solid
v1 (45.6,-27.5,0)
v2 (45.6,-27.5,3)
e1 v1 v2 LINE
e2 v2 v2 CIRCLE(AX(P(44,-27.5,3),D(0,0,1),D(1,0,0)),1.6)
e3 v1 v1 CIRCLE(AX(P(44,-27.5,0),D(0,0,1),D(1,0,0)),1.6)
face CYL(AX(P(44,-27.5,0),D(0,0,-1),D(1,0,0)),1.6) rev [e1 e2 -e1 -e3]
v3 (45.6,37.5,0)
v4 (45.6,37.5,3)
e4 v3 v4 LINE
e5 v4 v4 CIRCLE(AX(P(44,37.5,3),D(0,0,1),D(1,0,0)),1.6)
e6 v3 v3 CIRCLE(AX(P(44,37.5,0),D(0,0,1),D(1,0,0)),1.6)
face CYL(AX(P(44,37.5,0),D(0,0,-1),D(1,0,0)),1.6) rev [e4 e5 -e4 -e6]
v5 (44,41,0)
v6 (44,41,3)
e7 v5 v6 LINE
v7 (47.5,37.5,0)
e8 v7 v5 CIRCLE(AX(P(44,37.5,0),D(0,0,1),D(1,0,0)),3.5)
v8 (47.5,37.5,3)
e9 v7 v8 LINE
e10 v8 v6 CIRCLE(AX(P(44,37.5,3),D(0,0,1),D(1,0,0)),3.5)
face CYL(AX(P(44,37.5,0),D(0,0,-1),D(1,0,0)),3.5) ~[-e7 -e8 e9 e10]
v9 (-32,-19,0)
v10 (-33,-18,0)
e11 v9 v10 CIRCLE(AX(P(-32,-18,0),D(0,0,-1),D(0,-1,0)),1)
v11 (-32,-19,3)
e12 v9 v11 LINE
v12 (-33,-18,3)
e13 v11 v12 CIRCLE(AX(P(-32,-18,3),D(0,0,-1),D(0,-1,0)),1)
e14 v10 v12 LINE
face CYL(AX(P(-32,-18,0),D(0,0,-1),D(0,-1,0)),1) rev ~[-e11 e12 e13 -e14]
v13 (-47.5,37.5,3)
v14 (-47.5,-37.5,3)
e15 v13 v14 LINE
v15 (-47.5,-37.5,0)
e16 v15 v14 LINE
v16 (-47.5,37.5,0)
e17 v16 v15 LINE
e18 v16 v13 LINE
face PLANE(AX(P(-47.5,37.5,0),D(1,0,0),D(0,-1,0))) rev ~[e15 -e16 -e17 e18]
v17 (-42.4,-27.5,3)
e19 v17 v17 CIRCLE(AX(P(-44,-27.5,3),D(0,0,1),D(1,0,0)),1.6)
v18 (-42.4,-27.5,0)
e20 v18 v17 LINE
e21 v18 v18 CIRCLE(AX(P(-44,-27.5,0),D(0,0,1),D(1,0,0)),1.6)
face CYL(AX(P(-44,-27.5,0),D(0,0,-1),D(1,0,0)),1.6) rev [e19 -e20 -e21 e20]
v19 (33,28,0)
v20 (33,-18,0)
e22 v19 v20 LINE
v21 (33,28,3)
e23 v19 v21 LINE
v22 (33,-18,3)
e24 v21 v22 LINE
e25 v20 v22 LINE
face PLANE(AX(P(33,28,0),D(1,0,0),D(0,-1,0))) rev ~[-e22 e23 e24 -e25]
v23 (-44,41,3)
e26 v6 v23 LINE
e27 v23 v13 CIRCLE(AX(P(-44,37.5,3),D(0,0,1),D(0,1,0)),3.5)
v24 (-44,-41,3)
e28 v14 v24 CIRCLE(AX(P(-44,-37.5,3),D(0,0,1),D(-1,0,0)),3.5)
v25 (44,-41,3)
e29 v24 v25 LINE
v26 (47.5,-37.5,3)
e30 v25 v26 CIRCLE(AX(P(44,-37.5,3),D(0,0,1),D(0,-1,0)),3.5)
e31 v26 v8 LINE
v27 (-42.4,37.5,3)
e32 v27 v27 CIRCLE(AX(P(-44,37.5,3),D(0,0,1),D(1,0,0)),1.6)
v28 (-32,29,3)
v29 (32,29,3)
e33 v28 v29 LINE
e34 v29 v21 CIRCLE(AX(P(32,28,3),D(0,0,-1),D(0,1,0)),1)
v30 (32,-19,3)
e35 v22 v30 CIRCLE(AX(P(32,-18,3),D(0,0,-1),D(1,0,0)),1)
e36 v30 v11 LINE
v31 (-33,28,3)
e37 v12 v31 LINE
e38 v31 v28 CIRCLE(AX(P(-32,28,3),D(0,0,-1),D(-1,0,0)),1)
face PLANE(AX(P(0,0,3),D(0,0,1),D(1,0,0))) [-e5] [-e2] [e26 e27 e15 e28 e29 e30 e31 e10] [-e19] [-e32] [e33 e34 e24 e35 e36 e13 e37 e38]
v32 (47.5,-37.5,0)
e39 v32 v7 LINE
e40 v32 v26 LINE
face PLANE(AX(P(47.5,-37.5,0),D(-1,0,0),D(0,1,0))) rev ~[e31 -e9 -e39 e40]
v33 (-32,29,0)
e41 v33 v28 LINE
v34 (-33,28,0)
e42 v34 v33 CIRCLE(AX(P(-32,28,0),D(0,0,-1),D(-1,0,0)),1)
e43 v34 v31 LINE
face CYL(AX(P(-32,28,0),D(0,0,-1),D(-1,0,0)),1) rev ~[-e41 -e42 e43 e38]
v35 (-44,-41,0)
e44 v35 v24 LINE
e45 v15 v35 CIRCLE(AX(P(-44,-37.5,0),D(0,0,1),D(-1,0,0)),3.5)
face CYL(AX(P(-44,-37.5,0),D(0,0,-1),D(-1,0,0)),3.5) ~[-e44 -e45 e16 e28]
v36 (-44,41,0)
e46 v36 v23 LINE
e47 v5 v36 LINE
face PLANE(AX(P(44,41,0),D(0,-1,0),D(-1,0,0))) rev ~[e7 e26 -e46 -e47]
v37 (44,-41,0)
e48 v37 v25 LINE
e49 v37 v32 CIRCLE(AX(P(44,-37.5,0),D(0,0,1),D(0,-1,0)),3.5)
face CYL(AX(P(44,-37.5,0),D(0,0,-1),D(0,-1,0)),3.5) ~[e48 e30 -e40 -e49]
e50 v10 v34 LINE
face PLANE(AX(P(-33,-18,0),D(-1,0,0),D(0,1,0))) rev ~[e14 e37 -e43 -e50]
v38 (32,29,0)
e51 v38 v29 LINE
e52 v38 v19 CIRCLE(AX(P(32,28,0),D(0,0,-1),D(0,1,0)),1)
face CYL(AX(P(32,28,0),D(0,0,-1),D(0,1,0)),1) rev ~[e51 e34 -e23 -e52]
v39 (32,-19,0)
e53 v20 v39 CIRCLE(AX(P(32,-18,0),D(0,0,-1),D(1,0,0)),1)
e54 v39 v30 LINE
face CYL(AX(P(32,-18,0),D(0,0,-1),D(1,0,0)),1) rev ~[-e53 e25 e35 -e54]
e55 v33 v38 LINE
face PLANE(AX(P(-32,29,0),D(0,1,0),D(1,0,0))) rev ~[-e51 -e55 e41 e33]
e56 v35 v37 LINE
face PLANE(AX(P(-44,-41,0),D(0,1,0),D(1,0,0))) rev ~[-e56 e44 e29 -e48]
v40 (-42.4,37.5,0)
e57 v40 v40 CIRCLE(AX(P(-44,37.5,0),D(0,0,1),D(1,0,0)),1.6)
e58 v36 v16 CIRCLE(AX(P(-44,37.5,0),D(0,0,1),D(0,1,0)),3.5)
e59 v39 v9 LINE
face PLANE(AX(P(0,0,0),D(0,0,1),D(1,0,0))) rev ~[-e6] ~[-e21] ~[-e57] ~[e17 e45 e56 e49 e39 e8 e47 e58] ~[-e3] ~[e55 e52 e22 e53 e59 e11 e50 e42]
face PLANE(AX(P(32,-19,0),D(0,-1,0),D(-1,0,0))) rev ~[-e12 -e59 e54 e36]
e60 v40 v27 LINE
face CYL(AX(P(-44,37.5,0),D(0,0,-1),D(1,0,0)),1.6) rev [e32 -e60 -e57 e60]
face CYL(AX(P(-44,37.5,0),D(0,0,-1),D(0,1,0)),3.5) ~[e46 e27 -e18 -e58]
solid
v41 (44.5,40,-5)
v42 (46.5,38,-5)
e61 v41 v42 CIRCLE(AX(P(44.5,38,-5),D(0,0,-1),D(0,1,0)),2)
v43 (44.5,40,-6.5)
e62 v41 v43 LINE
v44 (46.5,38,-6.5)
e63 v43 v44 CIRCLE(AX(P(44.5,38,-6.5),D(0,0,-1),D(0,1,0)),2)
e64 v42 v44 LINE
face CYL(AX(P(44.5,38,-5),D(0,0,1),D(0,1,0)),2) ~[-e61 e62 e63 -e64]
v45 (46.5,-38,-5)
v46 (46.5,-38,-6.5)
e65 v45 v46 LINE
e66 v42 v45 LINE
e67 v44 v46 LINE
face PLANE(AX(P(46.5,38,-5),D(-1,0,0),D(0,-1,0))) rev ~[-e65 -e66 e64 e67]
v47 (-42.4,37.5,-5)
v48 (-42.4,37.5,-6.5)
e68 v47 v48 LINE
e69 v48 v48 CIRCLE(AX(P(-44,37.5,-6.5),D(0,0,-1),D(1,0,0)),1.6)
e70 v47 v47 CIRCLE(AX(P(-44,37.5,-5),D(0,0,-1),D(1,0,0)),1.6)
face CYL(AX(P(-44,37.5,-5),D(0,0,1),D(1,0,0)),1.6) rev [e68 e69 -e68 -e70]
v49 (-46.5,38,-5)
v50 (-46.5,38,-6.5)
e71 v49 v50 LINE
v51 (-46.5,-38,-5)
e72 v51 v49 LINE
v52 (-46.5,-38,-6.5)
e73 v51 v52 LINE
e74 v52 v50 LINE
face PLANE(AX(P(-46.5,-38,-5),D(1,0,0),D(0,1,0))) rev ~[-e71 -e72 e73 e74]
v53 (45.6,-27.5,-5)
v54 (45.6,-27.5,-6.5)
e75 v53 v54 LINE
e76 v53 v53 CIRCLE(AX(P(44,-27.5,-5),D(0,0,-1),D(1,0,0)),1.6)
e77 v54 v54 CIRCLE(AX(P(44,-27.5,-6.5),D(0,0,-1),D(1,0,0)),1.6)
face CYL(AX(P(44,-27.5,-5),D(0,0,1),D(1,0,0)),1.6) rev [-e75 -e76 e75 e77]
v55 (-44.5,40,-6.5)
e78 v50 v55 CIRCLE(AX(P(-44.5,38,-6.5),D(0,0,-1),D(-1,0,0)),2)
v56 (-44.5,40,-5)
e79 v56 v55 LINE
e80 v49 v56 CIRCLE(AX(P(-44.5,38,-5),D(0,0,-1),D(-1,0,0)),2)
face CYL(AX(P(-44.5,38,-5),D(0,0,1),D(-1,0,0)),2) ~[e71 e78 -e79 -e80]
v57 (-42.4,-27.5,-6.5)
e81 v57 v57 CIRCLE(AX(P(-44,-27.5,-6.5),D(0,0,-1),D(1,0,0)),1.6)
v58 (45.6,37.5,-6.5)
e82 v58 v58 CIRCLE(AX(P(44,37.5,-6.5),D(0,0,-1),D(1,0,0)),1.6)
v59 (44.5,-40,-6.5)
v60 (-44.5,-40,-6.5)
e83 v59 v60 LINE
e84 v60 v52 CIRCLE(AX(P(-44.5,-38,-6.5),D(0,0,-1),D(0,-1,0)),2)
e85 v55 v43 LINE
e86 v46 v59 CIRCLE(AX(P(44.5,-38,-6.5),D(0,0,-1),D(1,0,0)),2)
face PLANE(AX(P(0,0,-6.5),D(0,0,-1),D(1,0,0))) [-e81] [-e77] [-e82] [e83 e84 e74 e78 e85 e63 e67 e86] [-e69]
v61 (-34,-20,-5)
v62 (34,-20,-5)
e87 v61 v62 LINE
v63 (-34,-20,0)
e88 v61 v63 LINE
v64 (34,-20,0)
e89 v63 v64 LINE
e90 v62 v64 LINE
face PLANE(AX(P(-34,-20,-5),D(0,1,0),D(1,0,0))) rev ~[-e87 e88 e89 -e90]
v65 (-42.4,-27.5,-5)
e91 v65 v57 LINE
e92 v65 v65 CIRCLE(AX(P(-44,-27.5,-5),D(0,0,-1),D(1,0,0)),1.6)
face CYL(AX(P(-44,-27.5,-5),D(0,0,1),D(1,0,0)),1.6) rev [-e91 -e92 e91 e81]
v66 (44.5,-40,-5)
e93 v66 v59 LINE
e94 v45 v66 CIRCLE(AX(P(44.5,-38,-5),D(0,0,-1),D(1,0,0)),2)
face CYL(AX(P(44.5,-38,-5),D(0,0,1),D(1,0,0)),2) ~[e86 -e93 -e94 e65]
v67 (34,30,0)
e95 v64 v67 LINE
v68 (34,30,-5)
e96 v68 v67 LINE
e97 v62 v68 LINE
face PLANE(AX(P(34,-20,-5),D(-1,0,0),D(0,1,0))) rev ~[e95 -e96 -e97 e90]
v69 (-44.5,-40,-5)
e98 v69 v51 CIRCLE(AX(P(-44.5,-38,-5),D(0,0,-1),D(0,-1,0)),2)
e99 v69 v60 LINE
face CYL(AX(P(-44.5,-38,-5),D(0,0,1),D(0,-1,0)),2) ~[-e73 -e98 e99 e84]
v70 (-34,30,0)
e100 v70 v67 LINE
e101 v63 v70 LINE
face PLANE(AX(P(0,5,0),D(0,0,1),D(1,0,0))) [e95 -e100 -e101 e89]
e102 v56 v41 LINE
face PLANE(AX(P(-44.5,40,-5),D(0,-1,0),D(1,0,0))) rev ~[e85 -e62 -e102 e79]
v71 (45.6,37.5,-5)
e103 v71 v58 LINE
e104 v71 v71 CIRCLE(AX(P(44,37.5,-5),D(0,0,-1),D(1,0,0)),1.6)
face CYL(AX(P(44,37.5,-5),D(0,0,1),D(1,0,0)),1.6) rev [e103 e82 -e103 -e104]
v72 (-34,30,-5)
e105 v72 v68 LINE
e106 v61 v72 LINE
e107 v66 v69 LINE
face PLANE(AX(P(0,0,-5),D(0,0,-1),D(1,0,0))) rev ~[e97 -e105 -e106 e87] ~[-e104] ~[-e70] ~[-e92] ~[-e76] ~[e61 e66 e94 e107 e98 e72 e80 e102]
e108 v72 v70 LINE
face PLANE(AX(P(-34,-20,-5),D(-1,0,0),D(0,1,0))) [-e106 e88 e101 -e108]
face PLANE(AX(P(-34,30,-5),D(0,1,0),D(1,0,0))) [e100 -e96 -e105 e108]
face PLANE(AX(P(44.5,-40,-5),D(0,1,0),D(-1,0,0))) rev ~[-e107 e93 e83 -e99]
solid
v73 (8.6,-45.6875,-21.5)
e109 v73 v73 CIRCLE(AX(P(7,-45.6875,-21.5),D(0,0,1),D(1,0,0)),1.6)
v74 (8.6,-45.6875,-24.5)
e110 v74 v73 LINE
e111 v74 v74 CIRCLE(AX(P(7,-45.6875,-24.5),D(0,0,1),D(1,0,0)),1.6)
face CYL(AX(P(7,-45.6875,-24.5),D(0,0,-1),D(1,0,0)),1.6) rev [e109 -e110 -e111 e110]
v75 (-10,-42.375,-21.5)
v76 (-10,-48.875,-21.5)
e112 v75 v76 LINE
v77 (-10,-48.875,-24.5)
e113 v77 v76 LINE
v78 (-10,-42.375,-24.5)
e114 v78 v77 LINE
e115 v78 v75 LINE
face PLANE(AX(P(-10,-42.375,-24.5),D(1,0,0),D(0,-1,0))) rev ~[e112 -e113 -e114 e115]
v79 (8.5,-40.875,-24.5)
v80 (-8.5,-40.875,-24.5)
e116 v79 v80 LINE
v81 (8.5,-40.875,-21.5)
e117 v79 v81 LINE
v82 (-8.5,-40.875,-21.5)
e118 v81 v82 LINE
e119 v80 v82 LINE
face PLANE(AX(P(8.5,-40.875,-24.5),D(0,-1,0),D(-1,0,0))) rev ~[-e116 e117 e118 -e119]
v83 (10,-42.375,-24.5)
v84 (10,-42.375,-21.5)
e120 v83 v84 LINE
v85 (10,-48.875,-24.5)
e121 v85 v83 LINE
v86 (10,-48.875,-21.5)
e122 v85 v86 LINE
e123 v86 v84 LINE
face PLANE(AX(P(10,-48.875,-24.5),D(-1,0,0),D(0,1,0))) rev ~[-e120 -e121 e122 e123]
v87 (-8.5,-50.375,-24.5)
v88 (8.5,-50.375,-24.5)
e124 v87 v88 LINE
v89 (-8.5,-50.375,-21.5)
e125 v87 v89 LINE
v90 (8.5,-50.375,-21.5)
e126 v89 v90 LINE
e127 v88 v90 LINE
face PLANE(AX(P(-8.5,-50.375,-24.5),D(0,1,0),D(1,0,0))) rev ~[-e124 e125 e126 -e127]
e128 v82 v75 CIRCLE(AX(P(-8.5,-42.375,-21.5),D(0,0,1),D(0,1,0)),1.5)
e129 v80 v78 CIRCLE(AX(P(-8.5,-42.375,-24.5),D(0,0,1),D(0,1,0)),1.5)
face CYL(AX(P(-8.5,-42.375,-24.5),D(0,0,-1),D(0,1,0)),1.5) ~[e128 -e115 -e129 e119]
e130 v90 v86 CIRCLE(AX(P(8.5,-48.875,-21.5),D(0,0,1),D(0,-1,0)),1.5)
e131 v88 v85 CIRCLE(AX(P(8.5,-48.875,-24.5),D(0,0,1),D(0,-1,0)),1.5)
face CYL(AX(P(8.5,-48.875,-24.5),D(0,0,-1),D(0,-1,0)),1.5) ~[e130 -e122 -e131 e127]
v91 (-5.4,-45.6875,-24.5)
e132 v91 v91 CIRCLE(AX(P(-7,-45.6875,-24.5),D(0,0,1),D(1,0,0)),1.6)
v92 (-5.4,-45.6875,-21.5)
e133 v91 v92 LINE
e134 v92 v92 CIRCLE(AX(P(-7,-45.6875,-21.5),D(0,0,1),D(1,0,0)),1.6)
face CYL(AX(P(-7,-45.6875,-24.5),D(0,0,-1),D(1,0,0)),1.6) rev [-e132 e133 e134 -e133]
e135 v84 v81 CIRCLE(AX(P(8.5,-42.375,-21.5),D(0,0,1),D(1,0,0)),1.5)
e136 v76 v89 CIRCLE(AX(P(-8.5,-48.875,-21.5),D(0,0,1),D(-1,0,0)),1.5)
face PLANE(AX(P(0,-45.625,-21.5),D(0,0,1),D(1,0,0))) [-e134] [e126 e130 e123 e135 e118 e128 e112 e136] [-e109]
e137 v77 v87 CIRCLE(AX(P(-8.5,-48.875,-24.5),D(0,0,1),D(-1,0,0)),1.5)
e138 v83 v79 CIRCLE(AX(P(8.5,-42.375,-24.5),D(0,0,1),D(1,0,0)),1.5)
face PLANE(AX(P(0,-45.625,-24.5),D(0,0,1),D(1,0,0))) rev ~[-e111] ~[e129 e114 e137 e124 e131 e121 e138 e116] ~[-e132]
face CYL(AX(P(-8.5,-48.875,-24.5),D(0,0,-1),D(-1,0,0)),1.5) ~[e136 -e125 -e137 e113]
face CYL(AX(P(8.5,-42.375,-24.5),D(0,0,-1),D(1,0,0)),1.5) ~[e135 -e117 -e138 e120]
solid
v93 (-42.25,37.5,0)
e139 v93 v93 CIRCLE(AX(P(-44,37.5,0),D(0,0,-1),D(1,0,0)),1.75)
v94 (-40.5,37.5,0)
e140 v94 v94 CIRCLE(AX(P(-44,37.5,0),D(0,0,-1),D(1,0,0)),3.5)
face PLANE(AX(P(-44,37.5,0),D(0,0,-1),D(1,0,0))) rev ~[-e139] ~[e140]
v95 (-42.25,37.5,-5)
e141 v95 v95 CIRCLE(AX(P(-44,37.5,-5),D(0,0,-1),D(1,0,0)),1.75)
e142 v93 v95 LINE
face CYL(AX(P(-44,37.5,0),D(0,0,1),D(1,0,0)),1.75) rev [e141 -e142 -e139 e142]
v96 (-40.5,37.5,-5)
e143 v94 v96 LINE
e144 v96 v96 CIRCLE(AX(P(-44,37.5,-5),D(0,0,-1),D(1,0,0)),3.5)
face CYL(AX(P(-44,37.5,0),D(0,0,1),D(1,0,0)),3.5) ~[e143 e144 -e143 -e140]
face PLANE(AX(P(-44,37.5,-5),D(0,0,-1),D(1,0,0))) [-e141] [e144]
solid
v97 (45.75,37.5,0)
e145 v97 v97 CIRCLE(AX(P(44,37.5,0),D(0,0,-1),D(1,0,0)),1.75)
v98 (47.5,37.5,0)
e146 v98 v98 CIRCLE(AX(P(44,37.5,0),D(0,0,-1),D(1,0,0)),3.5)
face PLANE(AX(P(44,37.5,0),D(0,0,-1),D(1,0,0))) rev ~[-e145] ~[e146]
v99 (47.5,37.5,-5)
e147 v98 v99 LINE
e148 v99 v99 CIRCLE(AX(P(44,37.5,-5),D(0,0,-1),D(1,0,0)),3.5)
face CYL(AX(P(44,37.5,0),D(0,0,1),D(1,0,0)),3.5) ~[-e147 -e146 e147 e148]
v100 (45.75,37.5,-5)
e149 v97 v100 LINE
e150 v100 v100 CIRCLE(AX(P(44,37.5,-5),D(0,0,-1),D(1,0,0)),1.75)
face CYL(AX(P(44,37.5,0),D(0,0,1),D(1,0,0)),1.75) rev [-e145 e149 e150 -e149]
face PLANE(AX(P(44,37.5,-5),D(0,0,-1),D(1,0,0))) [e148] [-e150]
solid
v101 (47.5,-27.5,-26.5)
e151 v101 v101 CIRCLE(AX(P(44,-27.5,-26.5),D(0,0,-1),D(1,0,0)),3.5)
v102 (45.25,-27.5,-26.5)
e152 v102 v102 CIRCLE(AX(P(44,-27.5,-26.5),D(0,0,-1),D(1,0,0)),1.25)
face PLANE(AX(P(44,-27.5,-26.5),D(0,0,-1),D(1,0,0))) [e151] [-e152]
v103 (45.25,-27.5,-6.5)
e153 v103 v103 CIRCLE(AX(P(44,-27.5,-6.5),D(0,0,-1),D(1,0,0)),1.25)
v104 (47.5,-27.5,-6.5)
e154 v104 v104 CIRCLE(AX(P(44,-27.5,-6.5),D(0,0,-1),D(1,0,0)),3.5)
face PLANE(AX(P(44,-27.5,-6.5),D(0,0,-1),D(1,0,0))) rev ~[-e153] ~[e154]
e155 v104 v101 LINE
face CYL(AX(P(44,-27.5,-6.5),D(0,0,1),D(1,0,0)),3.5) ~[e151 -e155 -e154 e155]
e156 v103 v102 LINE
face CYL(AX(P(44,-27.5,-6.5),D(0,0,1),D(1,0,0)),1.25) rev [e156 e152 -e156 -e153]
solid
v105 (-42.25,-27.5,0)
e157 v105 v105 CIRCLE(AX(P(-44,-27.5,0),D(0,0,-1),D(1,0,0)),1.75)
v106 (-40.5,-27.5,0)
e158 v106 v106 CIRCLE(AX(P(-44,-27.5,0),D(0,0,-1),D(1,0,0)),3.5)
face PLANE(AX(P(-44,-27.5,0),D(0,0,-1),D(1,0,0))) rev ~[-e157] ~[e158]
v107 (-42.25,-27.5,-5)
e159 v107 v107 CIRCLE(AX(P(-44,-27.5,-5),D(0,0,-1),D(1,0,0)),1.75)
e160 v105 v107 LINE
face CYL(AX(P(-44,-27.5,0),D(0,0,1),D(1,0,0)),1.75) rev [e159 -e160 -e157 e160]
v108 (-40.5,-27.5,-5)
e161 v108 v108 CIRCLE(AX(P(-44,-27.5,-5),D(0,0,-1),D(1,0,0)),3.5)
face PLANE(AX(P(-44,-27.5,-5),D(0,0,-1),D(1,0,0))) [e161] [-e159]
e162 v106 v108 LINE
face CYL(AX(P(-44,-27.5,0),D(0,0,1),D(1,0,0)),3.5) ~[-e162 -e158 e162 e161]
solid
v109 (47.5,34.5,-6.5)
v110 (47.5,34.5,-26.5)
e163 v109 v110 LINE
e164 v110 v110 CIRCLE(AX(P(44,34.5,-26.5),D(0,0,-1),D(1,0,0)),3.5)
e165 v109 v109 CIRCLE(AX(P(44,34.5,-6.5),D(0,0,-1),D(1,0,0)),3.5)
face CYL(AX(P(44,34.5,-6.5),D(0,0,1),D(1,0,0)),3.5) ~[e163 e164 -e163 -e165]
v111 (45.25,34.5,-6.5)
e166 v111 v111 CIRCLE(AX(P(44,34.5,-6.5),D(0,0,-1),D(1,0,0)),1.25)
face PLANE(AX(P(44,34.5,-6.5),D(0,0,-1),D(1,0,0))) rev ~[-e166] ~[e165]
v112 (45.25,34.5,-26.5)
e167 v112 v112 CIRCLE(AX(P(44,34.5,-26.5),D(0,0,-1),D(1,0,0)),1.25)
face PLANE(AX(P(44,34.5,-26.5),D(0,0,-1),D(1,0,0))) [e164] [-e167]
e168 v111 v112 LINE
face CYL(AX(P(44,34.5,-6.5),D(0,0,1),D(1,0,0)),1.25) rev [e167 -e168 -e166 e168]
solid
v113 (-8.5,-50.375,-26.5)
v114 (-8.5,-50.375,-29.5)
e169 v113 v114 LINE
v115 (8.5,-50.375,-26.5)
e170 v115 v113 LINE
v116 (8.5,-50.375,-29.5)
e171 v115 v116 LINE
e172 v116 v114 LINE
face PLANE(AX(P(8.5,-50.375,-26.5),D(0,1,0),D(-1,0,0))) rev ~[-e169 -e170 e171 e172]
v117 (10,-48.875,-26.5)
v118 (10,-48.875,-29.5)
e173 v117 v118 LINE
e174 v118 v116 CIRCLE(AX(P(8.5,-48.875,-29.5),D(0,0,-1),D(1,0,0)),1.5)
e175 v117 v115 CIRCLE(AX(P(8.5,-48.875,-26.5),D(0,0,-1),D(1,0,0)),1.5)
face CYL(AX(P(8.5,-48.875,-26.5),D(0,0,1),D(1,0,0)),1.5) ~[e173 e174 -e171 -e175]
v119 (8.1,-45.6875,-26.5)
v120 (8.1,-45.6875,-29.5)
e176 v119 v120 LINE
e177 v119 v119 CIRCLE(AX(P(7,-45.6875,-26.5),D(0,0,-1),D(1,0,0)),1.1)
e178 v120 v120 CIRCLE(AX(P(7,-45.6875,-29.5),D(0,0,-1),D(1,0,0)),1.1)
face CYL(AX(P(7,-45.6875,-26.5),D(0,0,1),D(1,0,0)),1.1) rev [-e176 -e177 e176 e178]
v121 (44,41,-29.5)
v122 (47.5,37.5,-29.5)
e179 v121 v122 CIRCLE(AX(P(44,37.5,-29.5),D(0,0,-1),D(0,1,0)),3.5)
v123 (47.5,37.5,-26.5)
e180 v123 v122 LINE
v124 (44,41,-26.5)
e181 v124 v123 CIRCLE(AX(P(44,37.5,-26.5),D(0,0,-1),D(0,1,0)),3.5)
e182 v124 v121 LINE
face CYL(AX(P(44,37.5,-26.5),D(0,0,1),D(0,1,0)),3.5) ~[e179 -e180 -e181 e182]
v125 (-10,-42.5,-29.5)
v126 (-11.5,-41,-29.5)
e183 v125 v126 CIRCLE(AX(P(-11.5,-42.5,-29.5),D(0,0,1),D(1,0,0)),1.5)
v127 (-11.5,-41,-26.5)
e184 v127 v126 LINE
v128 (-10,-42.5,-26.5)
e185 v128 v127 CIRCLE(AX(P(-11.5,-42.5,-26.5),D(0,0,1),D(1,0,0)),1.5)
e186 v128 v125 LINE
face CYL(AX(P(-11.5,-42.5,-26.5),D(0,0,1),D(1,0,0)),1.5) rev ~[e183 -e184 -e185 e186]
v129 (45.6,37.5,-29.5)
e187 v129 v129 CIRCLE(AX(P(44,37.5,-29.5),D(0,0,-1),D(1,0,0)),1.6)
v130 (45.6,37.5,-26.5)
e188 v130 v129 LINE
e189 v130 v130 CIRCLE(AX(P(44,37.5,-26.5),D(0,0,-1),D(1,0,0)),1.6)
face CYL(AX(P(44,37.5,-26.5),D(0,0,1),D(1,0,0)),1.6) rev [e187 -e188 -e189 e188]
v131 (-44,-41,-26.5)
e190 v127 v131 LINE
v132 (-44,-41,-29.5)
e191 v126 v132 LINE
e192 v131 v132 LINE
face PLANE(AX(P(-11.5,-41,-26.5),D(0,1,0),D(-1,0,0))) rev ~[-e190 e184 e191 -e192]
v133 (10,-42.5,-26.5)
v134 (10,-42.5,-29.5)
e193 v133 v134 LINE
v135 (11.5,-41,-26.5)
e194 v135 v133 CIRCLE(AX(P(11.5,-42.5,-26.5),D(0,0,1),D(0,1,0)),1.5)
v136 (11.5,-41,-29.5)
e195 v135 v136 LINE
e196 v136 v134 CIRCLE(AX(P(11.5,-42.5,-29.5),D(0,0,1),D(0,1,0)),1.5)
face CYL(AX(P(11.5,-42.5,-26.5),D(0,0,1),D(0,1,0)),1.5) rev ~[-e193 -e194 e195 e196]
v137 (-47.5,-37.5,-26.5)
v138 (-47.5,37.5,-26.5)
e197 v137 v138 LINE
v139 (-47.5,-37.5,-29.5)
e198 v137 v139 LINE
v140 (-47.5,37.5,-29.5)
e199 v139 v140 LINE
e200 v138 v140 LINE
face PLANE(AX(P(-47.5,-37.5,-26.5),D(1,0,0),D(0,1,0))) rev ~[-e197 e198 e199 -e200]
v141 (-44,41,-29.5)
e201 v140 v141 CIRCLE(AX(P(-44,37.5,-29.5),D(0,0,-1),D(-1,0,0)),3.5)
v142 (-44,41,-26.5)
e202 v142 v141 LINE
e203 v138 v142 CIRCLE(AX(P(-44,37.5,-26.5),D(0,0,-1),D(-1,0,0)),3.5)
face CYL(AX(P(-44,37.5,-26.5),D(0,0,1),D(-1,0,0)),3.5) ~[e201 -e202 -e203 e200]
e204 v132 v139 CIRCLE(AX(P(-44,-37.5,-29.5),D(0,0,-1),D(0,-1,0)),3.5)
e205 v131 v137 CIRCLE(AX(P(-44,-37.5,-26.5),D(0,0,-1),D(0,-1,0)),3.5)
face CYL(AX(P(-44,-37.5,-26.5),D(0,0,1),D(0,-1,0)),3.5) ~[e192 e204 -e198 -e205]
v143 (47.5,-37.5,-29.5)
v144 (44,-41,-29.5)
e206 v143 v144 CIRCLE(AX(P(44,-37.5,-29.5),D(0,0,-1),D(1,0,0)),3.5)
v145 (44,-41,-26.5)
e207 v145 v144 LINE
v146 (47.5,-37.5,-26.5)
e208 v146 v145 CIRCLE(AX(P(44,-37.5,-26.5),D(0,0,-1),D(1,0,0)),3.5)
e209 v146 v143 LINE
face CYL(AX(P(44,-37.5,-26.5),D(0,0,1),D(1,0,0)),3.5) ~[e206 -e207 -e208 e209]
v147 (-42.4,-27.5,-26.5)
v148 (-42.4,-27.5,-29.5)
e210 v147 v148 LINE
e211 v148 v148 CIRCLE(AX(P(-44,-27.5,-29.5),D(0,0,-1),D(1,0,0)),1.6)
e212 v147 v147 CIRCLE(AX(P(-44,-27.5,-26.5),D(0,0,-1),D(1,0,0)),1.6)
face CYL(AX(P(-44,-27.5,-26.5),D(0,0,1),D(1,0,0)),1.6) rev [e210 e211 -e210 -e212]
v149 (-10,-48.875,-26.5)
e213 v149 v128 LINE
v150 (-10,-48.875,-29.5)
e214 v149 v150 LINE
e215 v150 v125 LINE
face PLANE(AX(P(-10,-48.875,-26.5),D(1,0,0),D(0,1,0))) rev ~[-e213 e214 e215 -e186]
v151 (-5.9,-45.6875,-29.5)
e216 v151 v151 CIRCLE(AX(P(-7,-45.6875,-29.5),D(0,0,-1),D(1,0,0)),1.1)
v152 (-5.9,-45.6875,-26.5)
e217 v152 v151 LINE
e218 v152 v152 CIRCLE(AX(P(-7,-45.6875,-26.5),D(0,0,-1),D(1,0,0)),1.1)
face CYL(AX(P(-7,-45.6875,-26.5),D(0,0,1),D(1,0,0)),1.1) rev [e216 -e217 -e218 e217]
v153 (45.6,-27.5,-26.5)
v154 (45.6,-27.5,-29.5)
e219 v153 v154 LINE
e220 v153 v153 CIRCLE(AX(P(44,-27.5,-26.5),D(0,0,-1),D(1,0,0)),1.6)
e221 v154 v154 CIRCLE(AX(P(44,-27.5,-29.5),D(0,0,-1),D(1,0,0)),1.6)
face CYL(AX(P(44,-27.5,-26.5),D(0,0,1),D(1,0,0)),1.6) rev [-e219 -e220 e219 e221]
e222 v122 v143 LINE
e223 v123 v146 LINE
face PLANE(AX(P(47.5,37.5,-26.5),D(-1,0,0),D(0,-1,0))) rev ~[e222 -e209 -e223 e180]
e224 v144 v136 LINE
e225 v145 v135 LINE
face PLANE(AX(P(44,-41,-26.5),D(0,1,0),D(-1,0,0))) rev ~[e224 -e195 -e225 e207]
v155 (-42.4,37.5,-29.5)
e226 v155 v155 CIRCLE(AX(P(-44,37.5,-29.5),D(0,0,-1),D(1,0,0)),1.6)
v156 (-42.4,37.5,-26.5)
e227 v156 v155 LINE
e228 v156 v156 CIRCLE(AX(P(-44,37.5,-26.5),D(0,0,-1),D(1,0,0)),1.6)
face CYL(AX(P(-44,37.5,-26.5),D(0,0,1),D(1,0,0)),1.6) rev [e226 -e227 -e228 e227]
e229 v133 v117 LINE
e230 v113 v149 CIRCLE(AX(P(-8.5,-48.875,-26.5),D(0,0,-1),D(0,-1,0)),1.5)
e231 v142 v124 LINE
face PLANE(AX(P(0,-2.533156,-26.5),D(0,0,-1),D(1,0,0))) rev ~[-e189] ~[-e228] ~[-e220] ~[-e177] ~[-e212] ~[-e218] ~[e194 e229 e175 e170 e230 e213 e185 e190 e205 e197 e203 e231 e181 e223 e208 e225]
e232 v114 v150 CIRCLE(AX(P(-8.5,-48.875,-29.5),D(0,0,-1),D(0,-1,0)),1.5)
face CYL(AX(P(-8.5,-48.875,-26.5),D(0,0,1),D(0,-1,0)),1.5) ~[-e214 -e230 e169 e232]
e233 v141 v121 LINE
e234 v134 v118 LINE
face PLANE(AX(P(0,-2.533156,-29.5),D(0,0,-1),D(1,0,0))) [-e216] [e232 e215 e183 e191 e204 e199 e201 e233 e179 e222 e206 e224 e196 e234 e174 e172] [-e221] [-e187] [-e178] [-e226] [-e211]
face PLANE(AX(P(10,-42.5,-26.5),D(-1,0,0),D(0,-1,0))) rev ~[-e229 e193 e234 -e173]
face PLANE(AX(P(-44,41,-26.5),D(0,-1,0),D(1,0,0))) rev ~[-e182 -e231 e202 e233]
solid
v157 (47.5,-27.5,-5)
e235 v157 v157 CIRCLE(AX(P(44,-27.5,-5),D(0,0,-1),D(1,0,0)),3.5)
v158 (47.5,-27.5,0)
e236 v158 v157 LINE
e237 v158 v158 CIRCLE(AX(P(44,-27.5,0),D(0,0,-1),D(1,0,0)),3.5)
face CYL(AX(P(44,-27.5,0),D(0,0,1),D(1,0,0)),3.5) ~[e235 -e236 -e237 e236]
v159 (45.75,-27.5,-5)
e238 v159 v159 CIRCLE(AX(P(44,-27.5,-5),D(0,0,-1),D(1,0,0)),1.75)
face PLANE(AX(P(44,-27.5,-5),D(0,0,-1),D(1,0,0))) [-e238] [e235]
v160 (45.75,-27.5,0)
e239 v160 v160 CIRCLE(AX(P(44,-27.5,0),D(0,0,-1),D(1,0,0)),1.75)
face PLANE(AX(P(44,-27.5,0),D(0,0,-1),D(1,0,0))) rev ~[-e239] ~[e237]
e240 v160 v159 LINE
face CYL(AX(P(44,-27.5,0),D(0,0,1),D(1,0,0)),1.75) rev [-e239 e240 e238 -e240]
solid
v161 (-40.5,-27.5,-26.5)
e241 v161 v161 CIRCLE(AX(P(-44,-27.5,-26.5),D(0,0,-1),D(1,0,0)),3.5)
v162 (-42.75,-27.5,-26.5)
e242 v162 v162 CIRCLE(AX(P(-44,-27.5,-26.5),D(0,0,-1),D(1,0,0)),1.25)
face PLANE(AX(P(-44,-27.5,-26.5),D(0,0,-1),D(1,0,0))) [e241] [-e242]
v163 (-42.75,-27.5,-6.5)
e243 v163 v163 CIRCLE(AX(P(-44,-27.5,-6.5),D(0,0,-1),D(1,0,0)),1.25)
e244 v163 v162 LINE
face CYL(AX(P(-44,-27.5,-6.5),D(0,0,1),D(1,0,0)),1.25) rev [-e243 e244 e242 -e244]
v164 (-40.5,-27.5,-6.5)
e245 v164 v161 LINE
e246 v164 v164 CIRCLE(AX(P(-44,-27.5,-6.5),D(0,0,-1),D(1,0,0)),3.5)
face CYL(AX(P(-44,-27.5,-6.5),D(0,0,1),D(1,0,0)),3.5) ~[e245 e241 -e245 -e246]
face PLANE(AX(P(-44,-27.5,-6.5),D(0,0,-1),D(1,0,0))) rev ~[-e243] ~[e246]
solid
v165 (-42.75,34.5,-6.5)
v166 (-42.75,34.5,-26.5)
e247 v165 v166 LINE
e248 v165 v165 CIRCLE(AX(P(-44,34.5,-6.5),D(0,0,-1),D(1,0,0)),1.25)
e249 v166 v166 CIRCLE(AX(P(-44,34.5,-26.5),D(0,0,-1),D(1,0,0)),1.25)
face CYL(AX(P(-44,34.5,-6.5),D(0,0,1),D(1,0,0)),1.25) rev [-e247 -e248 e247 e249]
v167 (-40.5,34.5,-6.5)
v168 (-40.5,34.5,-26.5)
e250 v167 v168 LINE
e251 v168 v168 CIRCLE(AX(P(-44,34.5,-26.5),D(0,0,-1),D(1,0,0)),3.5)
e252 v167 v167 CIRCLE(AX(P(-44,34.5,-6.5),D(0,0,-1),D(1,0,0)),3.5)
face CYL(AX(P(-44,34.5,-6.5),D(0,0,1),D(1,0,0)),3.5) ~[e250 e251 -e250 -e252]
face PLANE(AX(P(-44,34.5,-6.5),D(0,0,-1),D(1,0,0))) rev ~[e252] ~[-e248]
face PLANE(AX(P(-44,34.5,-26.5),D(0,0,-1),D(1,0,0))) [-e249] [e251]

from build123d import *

# Parameters (mm, degrees)
F0_R      = 1.6
F1_DEPTH  = 3
F2_R      = 3.5
F2_R_2    = 1.75
F3_DEPTH  = 5
F4_R      = 1.6
F5_DEPTH  = 1.5
F6_R      = 3.5
F6_R_2    = 1.25
F7_DEPTH  = 20
F8_R      = 1.6
F8_R_2    = 1.1
F9_DEPTH  = 3
F11_R     = 1.6
F12_DEPTH = 3
F13_W     = 68
F13_H     = 50
F14_DEPTH = 5


with BuildPart() as f1:
    # F0 (on Top) → F1 (new body)
    with BuildSketch(Plane.XY):
        with BuildLine():
            Line((-44, -41), (44, -41))
            ThreePointArc((44, -41), (46.4748737342, -39.9748737342), (47.5, -37.5))
            Line((47.5, -37.5), (47.5, 37.5))
            ThreePointArc((47.5, 37.5), (46.4748737342, 39.9748737342), (44, 41))
            Line((44, 41), (-44, 41))
            ThreePointArc((-44, 41), (-46.4748737342, 39.9748737342), (-47.5, 37.5))
            Line((-47.5, 37.5), (-47.5, -37.5))
            ThreePointArc((-47.5, -37.5), (-46.4748737342, -39.9748737342), (-44, -41))
        make_face()
        with Locations((-44, -27.5)):
            Circle(F0_R, mode=Mode.SUBTRACT)
        with Locations((44, -27.5)):
            Circle(F0_R, mode=Mode.SUBTRACT)
        with Locations((-44, 37.5)):
            Circle(F0_R, mode=Mode.SUBTRACT)
        with BuildLine():
            ThreePointArc((-33, 28), (-32.7071067812, 28.7071067812), (-32, 29))
            Line((-32, 29), (32, 29))
            ThreePointArc((32, 29), (32.7071067812, 28.7071067812), (33, 28))
            Line((33, 28), (33, -18))
            ThreePointArc((33, -18), (32.7071067812, -18.7071067812), (32, -19))
            Line((32, -19), (-32, -19))
            ThreePointArc((-32, -19), (-32.7071067812, -18.7071067812), (-33, -18))
            Line((-33, -18), (-33, 28))
        make_face(mode=Mode.SUBTRACT)
        with Locations((44, 37.5)):
            Circle(F0_R, mode=Mode.SUBTRACT)
    extrude(amount=F1_DEPTH)


with BuildPart() as f3:
    # F2 (on face) → F3 (new body)
    with BuildSketch(Plane(origin=(0, 0, 0), x_dir=(1, 0, 0), z_dir=(0, 0, -1))):
        with Locations((-44, -37.5)):
            Circle(F2_R)
        with Locations((-44, -37.5)):
            Circle(F2_R_2, mode=Mode.SUBTRACT)
    extrude(amount=F3_DEPTH)


with BuildPart() as f3b:
    # F2 (on face) → F3, piece 2 (new body)
    with BuildSketch(Plane(origin=(0, 0, 0), x_dir=(1, 0, 0), z_dir=(0, 0, -1))):
        with Locations((44, -37.5)):
            Circle(F2_R)
        with Locations((44, -37.5)):
            Circle(F2_R_2, mode=Mode.SUBTRACT)
    extrude(amount=F3_DEPTH)


with BuildPart() as f3c:
    # F2 (on face) → F3, piece 3 (new body)
    with BuildSketch(Plane(origin=(0, 0, 0), x_dir=(1, 0, 0), z_dir=(0, 0, -1))):
        with Locations((44, 27.5)):
            Circle(F2_R)
        with Locations((44, 27.5)):
            Circle(F2_R_2, mode=Mode.SUBTRACT)
    extrude(amount=F3_DEPTH)


with BuildPart() as f3d:
    # F2 (on face) → F3, piece 4 (new body)
    with BuildSketch(Plane(origin=(0, 0, 0), x_dir=(1, 0, 0), z_dir=(0, 0, -1))):
        with Locations((-44, 27.5)):
            Circle(F2_R)
        with Locations((-44, 27.5)):
            Circle(F2_R_2, mode=Mode.SUBTRACT)
    extrude(amount=F3_DEPTH)


with BuildPart() as f5:
    # F4 (on face) → F5 (new body)
    with BuildSketch(Plane(origin=(0, 0, -5), x_dir=(1, 0, 0), z_dir=(0, 0, -1))):
        with BuildLine():
            Line((-44.5, -40), (44.5, -40))
            ThreePointArc((44.5, -40), (45.9142135624, -39.4142135624), (46.5, -38))
            Line((46.5, -38), (46.5, 38))
            ThreePointArc((46.5, 38), (45.9142135624, 39.4142135624), (44.5, 40))
            Line((44.5, 40), (-44.5, 40))
            ThreePointArc((-44.5, 40), (-45.9142135624, 39.4142135624), (-46.5, 38))
            Line((-46.5, 38), (-46.5, -38))
            ThreePointArc((-46.5, -38), (-45.9142135624, -39.4142135624), (-44.5, -40))
        make_face()
        with Locations((-44, -37.5)):
            Circle(F4_R, mode=Mode.SUBTRACT)
        with Locations((44, -37.5)):
            Circle(F4_R, mode=Mode.SUBTRACT)
        with Locations((-44, 27.5)):
            Circle(F4_R, mode=Mode.SUBTRACT)
        with Locations((44, 27.5)):
            Circle(F4_R, mode=Mode.SUBTRACT)
    extrude(amount=F5_DEPTH)

    # F13 (on face) → F14 (join, through all)
    with BuildSketch(Plane.XY.offset(-5)):
        with Locations((0, 5)):
            Rectangle(F13_W, F13_H)
    extrude(amount=F14_DEPTH)


with BuildPart() as f5b:
    # F4 (on face) → F5, piece 2 (new body)
    with BuildSketch(Plane(origin=(0, 0, -5), x_dir=(1, 0, 0), z_dir=(0, 0, -1))):
        with Locations((132, 27.5)):
            Circle(F4_R)
    extrude(amount=F5_DEPTH)


with BuildPart() as f5c:
    # F4 (on face) → F5, piece 3 (new body)
    with BuildSketch(Plane(origin=(0, 0, -5), x_dir=(1, 0, 0), z_dir=(0, 0, -1))):
        with Locations((132, -37.5)):
            Circle(F4_R)
    extrude(amount=F5_DEPTH)


with BuildPart() as f7:
    # F6 (on face) → F7 (new body)
    with BuildSketch(Plane(origin=(0, 0, -6.5), x_dir=(1, 0, 0), z_dir=(0, 0, -1))):
        with Locations((-44, 27.5)):
            Circle(F6_R)
        with Locations((-44, 27.5)):
            Circle(F6_R_2, mode=Mode.SUBTRACT)
    extrude(amount=F7_DEPTH)


with BuildPart() as f7b:
    # F6 (on face) → F7, piece 2 (new body)
    with BuildSketch(Plane(origin=(0, 0, -6.5), x_dir=(1, 0, 0), z_dir=(0, 0, -1))):
        with Locations((-44, -34.5)):
            Circle(F6_R)
        with Locations((-44, -34.5)):
            Circle(F6_R_2, mode=Mode.SUBTRACT)
    extrude(amount=F7_DEPTH)


with BuildPart() as f7c:
    # F6 (on face) → F7, piece 3 (new body)
    with BuildSketch(Plane(origin=(0, 0, -6.5), x_dir=(1, 0, 0), z_dir=(0, 0, -1))):
        with Locations((44, 27.5)):
            Circle(F6_R)
        with Locations((44, 27.5)):
            Circle(F6_R_2, mode=Mode.SUBTRACT)
    extrude(amount=F7_DEPTH)


with BuildPart() as f7d:
    # F6 (on face) → F7, piece 4 (new body)
    with BuildSketch(Plane(origin=(0, 0, -6.5), x_dir=(1, 0, 0), z_dir=(0, 0, -1))):
        with Locations((44, -34.5)):
            Circle(F6_R)
        with Locations((44, -34.5)):
            Circle(F6_R_2, mode=Mode.SUBTRACT)
    extrude(amount=F7_DEPTH)


with BuildPart() as f9:
    # F8 (on face) → F9 (new body)
    with BuildSketch(Plane(origin=(0, 0, -26.5), x_dir=(1, 0, 0), z_dir=(0, 0, -1))):
        with BuildLine():
            Line((-44, -41), (44, -41))
            ThreePointArc((44, -41), (46.4748737342, -39.9748737342), (47.5, -37.5))
            Line((47.5, -37.5), (47.5, 37.5))
            ThreePointArc((47.5, 37.5), (46.4748737342, 39.9748737342), (44, 41))
            Line((44, 41), (11.5, 41))
            ThreePointArc((11.5, 41), (10.4393398282, 41.4393398282), (10, 42.5))
            Line((10, 42.5), (10, 48.875))
            ThreePointArc((10, 48.875), (9.5606601718, 49.9356601718), (8.5, 50.375))
            Line((8.5, 50.375), (-8.5, 50.375))
            ThreePointArc((-8.5, 50.375), (-9.5606601718, 49.9356601718), (-10, 48.875))
            Line((-10, 48.875), (-10, 42.5))
            ThreePointArc((-10, 42.5), (-10.4393398282, 41.4393398282), (-11.5, 41))
            Line((-11.5, 41), (-44, 41))
            ThreePointArc((-44, 41), (-46.4748737342, 39.9748737342), (-47.5, 37.5))
            Line((-47.5, 37.5), (-47.5, -37.5))
            ThreePointArc((-47.5, -37.5), (-46.4748737342, -39.9748737342), (-44, -41))
        make_face()
        with Locations((-44, -37.5)):
            Circle(F8_R, mode=Mode.SUBTRACT)
        with Locations((44, -37.5)):
            Circle(F8_R, mode=Mode.SUBTRACT)
        with Locations((-44, 27.5)):
            Circle(F8_R, mode=Mode.SUBTRACT)
        with Locations((-7, 45.6875)):
            Circle(F8_R_2, mode=Mode.SUBTRACT)
        with Locations((44, 27.5)):
            Circle(F8_R, mode=Mode.SUBTRACT)
        with Locations((7, 45.6875)):
            Circle(F8_R_2, mode=Mode.SUBTRACT)
    extrude(amount=F9_DEPTH)


with BuildPart() as f12:
    # F11 (on offset) → F12 (new body)
    with BuildSketch(Plane.XY.offset(-24.5)):
        with BuildLine():
            Line((10, -48.875), (10, -42.375))
            ThreePointArc((10, -42.375), (9.5606601718, -41.3143398282), (8.5, -40.875))
            Line((8.5, -40.875), (-8.5, -40.875))
            ThreePointArc((-8.5, -40.875), (-9.5606601718, -41.3143398282), (-10, -42.375))
            Line((-10, -42.375), (-10, -48.875))
            ThreePointArc((-10, -48.875), (-9.5606601718, -49.9356601718), (-8.5, -50.375))
            Line((-8.5, -50.375), (8.5, -50.375))
            ThreePointArc((8.5, -50.375), (9.5606601718, -49.9356601718), (10, -48.875))
        make_face()
        with Locations((-7, -45.6875)):
            Circle(F11_R, mode=Mode.SUBTRACT)
        with Locations((7, -45.6875)):
            Circle(F11_R, mode=Mode.SUBTRACT)
    extrude(amount=F12_DEPTH)


solid = Compound([f1.part, f3.part, f3b.part, f3c.part, f3d.part, f5.part, f7.part, f7b.part, f7c.part, f7d.part, f9.part, f12.part])
